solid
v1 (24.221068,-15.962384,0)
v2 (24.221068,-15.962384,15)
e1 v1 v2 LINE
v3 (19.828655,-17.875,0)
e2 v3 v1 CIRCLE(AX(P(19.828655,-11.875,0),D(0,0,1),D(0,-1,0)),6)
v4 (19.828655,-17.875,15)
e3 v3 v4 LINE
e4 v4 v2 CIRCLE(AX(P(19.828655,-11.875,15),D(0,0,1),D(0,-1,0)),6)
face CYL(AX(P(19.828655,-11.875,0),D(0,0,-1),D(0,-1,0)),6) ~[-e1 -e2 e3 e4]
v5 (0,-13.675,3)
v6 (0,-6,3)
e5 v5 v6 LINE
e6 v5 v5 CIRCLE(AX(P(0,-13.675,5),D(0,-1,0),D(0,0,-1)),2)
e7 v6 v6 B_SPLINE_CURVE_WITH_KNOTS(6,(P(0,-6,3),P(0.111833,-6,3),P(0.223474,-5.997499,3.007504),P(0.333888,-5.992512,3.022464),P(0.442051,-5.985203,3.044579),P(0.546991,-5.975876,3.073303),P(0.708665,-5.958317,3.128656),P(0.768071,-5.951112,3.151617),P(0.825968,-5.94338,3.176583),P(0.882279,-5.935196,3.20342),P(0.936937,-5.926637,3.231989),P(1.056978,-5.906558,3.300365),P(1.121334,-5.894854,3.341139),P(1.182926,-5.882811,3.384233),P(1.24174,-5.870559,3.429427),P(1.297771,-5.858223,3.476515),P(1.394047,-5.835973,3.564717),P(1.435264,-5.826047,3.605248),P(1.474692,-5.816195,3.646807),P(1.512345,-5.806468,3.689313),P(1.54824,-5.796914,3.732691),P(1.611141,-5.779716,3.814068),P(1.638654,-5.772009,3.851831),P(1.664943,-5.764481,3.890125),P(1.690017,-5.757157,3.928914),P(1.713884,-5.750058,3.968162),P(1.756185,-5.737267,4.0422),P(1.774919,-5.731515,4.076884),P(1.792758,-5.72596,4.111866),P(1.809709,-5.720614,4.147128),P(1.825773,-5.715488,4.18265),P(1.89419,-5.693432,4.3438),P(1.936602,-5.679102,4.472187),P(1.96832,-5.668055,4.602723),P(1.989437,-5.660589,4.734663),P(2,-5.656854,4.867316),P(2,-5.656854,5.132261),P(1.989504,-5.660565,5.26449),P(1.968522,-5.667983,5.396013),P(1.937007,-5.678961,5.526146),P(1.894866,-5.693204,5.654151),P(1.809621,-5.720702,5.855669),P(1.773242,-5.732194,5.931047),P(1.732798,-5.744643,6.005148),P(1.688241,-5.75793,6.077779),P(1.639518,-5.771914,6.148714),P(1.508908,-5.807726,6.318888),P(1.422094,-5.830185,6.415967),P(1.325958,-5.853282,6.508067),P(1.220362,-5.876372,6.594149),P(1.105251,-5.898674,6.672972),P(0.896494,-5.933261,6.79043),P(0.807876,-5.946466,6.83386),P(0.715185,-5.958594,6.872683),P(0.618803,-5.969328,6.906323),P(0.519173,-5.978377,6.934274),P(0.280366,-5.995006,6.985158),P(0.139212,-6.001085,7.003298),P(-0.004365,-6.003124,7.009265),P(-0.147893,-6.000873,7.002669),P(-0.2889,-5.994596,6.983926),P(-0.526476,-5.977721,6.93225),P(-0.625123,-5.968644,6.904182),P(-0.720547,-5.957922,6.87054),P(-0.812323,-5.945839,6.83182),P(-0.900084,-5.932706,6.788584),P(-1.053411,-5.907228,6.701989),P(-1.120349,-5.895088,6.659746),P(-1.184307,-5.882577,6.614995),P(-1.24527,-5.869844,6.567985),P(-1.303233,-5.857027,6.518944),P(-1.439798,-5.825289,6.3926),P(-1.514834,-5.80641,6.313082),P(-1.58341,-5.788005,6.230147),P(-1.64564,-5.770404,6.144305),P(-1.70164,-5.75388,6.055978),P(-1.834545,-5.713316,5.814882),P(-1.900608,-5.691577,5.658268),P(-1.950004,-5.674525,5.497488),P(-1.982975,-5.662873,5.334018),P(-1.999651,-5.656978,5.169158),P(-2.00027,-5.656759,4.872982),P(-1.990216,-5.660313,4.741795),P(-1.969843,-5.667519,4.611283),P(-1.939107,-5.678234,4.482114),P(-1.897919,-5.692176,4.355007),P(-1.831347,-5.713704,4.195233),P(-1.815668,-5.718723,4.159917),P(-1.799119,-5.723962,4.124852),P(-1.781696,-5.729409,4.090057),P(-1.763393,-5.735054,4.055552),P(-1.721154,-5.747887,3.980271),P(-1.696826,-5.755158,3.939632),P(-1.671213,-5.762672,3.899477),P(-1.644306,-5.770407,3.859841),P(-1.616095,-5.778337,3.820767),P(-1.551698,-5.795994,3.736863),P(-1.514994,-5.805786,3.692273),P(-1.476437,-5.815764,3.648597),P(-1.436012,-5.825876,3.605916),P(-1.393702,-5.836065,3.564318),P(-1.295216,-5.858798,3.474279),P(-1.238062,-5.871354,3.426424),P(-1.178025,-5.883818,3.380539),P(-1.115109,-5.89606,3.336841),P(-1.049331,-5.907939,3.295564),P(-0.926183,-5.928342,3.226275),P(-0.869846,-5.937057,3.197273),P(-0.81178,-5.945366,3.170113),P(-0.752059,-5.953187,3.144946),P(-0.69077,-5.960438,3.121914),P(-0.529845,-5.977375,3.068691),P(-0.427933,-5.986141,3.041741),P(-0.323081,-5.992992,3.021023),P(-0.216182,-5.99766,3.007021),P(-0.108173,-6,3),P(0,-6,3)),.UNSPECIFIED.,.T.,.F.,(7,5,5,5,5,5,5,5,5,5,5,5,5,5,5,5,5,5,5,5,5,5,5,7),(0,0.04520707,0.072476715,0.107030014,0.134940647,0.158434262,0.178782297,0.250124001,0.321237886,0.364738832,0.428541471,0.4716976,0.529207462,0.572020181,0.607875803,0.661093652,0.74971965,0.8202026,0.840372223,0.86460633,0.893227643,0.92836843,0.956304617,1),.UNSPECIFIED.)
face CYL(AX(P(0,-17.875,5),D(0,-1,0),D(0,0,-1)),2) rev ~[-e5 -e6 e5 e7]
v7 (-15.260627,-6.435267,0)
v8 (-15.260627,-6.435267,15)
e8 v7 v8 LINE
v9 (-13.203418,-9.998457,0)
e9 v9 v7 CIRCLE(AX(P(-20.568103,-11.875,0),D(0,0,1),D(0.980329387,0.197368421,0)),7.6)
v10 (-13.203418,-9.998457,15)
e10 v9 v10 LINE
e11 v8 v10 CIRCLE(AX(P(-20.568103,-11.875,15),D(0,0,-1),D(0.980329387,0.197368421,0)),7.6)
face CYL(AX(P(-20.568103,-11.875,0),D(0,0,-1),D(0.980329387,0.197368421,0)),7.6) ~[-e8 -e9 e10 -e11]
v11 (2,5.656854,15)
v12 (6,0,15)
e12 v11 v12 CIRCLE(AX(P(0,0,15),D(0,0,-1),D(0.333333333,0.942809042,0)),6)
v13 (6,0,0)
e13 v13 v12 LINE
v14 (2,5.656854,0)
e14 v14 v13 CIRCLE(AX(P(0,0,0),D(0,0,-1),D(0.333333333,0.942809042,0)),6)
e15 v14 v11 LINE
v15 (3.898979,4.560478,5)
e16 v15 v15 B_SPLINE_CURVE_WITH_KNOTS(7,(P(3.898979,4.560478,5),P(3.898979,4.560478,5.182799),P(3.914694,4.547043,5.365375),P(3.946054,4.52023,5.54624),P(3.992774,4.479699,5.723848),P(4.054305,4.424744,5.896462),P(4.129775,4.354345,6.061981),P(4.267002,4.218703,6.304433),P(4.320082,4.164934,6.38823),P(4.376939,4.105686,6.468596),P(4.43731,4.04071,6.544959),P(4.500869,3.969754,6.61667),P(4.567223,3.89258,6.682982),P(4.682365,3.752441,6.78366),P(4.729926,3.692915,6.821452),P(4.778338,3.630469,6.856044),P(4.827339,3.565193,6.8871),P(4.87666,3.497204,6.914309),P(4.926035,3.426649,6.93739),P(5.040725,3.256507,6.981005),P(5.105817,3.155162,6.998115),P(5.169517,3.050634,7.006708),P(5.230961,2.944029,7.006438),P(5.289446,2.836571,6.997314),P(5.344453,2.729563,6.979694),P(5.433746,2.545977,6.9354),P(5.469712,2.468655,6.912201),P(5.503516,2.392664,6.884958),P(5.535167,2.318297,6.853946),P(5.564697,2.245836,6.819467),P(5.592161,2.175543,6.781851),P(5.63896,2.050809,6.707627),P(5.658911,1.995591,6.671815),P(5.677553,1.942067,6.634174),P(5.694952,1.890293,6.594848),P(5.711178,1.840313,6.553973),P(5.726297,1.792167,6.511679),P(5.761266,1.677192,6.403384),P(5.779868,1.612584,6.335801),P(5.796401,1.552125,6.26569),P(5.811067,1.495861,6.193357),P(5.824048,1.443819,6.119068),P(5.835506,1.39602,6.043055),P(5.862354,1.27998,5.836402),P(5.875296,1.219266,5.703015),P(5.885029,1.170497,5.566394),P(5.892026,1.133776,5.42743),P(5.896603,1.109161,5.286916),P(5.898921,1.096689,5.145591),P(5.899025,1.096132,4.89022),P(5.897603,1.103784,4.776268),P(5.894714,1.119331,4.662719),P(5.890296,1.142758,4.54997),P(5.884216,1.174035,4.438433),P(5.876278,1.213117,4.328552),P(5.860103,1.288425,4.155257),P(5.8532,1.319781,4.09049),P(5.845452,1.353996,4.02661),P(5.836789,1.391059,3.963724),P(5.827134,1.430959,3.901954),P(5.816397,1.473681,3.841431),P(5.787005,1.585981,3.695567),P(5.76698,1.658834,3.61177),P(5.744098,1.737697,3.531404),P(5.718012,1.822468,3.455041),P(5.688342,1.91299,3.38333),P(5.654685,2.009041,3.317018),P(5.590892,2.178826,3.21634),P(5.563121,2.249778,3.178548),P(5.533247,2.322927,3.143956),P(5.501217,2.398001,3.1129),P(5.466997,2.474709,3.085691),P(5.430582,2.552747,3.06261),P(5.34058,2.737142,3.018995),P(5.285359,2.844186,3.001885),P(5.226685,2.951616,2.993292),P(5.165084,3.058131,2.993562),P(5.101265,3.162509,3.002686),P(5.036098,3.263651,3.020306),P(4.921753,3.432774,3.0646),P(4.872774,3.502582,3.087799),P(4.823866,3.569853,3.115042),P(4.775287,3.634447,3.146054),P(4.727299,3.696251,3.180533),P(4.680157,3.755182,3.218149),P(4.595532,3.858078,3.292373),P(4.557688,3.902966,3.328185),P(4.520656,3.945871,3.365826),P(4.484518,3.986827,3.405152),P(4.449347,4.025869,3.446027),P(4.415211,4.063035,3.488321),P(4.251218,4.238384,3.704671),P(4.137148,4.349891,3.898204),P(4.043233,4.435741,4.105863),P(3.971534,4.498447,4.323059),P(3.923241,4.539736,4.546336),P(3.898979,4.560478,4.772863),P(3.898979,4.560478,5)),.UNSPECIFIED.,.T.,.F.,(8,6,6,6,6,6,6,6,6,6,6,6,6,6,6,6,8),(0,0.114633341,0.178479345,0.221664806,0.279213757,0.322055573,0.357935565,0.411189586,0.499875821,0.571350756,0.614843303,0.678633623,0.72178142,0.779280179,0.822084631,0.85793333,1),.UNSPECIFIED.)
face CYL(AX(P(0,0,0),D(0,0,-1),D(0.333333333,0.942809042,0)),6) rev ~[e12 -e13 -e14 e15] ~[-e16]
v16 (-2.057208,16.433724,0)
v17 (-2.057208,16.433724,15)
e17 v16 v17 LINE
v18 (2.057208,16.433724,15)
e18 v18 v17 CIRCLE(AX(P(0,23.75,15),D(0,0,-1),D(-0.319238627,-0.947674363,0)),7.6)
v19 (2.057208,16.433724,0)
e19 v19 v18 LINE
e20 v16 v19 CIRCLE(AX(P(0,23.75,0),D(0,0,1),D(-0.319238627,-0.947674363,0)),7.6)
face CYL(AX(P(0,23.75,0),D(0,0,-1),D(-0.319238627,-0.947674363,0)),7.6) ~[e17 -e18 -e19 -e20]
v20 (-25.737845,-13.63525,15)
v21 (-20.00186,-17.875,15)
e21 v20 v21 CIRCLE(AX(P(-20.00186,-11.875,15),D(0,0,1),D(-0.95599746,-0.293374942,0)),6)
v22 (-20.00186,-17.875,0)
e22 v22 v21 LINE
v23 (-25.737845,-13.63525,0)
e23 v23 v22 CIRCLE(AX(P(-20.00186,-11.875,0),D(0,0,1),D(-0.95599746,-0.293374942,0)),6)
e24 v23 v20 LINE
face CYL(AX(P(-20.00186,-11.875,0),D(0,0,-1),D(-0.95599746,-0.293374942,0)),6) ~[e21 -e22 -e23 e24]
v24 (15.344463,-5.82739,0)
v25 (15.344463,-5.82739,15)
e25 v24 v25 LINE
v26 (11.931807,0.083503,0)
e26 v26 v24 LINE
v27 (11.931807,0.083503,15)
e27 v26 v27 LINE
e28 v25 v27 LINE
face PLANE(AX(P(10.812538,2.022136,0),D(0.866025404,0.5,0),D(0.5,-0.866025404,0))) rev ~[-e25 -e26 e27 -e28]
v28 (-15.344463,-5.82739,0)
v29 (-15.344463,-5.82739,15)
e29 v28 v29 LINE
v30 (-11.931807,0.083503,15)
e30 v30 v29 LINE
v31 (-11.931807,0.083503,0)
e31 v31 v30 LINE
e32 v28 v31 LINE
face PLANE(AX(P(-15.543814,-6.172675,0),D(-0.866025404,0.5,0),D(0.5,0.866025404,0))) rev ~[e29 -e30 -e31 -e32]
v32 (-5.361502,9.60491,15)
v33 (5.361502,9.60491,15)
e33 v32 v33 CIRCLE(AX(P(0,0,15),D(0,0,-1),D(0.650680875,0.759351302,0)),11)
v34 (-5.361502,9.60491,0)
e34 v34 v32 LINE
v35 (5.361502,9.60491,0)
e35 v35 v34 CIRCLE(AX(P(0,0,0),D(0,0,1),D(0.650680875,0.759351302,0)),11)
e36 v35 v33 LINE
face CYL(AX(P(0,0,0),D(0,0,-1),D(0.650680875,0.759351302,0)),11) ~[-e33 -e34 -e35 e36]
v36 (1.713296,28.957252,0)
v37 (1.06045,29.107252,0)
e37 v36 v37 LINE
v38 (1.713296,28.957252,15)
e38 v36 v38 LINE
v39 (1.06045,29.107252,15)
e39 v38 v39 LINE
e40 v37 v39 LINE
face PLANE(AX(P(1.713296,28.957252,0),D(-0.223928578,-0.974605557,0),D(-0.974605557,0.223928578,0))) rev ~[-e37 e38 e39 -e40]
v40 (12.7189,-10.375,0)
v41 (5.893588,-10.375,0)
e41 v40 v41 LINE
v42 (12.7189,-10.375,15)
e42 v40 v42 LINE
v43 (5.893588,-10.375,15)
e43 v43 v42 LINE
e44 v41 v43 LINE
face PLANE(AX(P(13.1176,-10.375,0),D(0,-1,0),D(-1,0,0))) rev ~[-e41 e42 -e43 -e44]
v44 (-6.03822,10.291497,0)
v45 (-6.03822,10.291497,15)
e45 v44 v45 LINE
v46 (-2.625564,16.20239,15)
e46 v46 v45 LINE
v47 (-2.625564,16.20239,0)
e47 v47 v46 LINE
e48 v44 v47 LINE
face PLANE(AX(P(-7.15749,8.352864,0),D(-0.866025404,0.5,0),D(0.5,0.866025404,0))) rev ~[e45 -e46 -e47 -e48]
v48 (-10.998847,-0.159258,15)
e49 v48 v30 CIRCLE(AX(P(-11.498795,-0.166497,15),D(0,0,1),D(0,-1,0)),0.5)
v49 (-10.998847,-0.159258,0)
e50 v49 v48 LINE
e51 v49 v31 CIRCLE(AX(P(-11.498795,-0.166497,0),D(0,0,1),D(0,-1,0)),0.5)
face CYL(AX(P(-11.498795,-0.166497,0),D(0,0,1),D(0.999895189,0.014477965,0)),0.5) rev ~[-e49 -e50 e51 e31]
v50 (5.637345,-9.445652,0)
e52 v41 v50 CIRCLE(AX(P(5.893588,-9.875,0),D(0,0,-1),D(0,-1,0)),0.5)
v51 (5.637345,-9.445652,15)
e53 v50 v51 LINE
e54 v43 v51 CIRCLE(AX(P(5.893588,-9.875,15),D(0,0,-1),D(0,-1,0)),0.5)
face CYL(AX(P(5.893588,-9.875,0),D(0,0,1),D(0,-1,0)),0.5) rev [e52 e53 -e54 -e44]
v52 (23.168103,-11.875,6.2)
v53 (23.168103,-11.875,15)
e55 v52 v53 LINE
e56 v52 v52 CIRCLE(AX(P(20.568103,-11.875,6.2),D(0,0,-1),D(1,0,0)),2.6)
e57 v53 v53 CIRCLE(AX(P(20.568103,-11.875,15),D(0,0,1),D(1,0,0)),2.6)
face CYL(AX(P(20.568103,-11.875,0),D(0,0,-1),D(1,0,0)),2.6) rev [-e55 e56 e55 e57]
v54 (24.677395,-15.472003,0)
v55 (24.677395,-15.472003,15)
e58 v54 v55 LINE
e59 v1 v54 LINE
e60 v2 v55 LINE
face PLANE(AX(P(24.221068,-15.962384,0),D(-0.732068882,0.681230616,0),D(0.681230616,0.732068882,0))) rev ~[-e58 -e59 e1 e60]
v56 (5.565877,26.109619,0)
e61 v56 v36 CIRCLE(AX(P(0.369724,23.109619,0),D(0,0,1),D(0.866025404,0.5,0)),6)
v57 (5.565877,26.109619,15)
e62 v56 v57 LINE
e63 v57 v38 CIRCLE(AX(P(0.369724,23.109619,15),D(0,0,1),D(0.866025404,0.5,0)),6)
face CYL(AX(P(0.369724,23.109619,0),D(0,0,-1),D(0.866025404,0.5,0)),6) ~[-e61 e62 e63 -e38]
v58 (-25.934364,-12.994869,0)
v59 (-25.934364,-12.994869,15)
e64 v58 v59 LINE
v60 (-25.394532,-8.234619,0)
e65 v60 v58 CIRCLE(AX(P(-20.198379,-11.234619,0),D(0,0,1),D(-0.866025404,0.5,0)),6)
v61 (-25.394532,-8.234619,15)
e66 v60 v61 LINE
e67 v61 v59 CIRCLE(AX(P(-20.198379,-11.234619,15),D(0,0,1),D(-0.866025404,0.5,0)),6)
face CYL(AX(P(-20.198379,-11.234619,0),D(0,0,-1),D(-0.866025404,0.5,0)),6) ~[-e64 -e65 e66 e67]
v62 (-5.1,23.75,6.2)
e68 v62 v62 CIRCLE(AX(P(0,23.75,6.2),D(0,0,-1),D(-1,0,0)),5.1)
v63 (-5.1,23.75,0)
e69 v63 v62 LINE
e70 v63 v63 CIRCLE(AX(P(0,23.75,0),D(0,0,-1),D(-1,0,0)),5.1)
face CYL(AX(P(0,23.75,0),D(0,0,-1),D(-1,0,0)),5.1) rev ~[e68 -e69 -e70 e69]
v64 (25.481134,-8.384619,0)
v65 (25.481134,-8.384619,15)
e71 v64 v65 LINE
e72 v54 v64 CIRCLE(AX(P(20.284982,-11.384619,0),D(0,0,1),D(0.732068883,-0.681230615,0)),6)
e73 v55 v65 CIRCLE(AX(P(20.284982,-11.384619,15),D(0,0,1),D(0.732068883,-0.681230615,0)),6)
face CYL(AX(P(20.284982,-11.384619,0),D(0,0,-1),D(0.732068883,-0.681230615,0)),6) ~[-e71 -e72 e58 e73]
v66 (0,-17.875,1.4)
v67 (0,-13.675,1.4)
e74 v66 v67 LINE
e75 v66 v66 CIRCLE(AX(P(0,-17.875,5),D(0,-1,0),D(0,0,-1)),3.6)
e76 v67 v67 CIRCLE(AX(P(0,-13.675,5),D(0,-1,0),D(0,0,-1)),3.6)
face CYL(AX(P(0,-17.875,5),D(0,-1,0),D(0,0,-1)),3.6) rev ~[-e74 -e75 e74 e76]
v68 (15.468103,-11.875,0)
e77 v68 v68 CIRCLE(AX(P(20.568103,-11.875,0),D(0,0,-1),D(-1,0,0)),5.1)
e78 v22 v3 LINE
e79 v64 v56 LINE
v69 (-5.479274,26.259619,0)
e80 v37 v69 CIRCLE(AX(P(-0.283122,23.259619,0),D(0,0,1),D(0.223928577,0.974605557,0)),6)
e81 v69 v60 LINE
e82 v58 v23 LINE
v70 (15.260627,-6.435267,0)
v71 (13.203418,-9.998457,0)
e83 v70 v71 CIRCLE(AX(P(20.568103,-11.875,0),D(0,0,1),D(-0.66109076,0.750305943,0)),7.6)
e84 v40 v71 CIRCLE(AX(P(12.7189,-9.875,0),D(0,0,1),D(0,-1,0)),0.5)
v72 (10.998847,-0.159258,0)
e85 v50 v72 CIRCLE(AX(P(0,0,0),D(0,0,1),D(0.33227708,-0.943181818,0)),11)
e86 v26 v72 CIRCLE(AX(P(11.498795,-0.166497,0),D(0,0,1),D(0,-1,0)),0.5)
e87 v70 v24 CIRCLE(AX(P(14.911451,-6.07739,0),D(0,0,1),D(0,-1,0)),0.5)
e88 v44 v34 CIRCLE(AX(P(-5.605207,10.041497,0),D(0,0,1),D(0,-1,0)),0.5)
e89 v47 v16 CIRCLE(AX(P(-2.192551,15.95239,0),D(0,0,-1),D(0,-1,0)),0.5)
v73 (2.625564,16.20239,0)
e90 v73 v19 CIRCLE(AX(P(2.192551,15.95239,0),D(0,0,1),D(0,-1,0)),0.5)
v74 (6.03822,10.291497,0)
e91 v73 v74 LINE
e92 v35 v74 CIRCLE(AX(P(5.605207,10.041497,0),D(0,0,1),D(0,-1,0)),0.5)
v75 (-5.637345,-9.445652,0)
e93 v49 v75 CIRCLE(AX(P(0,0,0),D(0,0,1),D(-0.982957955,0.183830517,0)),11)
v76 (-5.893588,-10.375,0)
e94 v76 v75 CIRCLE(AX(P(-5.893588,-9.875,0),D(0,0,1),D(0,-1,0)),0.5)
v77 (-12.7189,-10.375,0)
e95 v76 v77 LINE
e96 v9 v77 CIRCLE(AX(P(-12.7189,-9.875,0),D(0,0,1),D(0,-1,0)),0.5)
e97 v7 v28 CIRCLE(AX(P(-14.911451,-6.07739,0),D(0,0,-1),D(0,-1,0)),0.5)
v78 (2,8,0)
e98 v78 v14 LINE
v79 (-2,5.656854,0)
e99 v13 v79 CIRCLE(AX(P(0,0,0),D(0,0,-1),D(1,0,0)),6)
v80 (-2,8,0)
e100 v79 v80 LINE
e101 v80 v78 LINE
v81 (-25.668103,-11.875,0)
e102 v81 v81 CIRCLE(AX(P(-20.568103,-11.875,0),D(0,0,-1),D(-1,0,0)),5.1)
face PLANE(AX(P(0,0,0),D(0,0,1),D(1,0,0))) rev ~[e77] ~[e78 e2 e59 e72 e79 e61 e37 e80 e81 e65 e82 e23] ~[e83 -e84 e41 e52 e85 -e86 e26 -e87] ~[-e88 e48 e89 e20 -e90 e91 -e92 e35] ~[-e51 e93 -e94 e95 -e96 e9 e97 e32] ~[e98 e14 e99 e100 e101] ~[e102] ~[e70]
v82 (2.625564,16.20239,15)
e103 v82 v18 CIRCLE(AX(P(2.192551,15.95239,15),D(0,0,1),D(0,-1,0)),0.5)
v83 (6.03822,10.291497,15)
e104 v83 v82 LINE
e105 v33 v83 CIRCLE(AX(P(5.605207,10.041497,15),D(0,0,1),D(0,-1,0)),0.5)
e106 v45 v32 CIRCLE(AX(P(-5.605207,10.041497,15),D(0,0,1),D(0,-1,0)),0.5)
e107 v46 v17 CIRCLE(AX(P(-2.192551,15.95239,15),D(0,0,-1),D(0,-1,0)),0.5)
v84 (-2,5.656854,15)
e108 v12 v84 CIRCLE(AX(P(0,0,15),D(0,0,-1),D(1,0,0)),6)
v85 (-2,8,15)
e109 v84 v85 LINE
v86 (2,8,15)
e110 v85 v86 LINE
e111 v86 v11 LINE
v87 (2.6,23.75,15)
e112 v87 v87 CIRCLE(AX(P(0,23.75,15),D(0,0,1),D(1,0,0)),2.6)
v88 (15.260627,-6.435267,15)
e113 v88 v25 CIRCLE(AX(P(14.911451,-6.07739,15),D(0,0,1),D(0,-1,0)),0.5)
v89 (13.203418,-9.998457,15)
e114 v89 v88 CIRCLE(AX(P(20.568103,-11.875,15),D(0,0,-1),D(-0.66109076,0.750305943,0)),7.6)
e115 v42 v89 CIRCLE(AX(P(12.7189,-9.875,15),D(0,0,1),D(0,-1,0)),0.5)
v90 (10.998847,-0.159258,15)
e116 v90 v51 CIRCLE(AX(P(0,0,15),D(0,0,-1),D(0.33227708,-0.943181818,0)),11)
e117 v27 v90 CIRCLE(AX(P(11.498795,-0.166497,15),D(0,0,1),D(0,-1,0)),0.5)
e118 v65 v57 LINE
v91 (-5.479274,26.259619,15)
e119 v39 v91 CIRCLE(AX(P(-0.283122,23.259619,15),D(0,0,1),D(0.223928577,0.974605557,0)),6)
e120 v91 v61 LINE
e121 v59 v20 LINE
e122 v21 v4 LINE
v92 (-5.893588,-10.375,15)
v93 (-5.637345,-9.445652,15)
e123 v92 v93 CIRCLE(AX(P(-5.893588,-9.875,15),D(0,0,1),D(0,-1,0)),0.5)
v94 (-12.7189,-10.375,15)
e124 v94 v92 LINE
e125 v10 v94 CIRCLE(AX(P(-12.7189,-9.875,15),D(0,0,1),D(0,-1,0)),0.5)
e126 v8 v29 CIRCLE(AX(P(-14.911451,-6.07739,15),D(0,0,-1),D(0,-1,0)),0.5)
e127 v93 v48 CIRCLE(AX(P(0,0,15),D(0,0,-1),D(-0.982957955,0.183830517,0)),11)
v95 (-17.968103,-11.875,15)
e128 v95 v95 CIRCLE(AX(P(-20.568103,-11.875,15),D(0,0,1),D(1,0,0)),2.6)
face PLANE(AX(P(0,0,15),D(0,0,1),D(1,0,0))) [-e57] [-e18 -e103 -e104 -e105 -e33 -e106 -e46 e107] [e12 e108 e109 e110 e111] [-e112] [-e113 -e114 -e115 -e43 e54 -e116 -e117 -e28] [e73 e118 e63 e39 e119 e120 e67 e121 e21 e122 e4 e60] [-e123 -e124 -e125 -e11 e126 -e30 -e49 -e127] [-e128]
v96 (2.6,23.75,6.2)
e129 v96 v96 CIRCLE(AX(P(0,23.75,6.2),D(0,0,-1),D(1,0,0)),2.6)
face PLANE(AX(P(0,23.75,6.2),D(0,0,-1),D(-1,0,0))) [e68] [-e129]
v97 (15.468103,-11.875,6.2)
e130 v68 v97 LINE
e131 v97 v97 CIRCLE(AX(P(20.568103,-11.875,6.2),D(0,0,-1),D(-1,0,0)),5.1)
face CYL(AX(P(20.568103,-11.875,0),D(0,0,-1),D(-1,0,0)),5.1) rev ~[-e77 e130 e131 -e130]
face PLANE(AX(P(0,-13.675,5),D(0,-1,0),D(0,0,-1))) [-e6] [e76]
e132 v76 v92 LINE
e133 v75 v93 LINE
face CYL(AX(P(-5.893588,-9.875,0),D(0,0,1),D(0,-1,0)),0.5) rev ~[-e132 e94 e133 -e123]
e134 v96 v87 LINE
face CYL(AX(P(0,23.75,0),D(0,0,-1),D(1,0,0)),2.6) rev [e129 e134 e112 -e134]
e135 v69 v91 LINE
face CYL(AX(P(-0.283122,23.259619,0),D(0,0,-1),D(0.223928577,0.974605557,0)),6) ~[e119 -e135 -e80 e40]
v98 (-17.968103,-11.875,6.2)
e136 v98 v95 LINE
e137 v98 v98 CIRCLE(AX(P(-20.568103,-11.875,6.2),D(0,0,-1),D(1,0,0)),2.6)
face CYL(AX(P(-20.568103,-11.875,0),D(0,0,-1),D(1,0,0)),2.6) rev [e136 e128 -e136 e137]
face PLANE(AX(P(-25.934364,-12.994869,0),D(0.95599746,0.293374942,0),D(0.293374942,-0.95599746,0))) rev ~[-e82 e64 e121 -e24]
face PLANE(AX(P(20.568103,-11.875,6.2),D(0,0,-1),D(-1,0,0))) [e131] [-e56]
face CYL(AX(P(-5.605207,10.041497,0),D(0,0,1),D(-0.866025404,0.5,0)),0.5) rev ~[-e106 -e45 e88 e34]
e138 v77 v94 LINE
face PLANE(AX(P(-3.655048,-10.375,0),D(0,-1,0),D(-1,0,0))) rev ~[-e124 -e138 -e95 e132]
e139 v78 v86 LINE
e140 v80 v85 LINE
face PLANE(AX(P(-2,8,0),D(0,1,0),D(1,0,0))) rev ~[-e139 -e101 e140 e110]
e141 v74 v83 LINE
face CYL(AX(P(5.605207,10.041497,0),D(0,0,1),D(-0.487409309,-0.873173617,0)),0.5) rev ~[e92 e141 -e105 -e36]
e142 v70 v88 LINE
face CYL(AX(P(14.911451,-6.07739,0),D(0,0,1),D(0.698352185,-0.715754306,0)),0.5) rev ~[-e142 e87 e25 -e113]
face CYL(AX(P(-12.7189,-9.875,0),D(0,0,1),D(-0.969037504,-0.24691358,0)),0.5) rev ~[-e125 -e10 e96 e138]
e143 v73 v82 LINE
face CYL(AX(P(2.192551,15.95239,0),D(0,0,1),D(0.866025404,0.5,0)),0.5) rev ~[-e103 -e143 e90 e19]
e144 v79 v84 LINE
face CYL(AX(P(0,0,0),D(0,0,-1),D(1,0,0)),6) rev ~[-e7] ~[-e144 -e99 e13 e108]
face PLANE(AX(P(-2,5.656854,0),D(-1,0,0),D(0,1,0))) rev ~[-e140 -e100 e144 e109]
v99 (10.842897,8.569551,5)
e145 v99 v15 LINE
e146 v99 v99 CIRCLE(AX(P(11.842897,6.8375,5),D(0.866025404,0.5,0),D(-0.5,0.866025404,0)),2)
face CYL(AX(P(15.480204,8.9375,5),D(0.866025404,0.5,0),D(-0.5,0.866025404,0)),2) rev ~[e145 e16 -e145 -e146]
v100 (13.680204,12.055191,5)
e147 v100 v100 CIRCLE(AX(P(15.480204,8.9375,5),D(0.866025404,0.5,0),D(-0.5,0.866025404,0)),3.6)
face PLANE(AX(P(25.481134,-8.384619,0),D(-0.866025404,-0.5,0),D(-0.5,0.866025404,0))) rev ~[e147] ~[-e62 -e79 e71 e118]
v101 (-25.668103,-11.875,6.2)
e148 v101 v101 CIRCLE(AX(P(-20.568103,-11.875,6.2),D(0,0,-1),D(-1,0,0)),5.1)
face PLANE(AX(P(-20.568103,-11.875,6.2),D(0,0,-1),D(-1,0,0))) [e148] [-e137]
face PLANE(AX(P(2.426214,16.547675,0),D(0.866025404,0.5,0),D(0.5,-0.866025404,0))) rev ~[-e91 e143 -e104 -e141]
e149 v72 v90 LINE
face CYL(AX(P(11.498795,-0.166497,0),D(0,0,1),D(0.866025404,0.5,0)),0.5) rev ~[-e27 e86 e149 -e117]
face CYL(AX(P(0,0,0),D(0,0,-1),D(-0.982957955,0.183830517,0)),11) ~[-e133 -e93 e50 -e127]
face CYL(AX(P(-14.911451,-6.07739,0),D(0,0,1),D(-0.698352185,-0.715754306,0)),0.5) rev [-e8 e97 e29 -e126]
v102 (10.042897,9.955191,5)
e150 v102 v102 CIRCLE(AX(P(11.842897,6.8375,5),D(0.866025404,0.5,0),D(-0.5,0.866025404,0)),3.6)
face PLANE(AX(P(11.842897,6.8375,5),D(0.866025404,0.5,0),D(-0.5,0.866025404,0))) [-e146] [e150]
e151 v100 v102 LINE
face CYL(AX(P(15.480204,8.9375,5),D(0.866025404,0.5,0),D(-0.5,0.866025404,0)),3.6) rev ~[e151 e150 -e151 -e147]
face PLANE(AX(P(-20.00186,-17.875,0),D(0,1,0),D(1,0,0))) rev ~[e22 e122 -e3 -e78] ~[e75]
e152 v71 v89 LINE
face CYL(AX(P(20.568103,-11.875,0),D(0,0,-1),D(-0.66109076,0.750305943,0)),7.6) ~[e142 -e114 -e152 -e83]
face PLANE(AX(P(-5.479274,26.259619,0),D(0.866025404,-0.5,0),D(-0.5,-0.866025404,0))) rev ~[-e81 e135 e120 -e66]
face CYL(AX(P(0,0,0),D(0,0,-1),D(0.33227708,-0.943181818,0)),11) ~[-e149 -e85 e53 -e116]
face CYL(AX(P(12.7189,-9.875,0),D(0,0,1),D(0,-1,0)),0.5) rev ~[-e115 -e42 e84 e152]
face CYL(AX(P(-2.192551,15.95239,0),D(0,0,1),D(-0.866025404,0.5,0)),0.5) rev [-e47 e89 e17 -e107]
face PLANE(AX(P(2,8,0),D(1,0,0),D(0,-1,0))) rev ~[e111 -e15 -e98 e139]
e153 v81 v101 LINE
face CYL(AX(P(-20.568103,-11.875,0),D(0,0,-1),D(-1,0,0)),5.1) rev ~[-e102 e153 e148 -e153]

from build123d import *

# Parameters (mm, degrees)
SKETCH_1_R               = 2.6
EXTRUDE_1_DEPTH          = 15
CUT_EXTRUDE_1_REACH      = 58.014
CUT_EXTRUDE_1_END_RADIUS = 6
SKETCH_3_R               = 2
SKETCH_4_R               = 3.6
CUT_EXTRUDE_2_DEPTH      = 4.2
SKETCH_6_R               = 5.1
CUT_EXTRUDE_4_DEPTH      = 6.2
CUT_EXTRUDE_5_REACH      = 53.779
CUT_EXTRUDE_5_END_RADIUS = 6
SKETCH_7_R               = 2
SKETCH_8_R               = 3.6
CUT_EXTRUDE_6_DEPTH      = 4.2
CUT_EXTRUDE_7_DEPTH      = 43.095434039
FILLET_1_R               = 0.5


with BuildPart() as part:
    # ｽｹｯﾁ1 → ﾎﾞｽ - 押し出し1 (new body)
    with BuildSketch(Plane.XY):
        with BuildLine():
            ThreePointArc((1.060449829, 29.107252287), (-2.678502383, 28.760723475), (-5.479274058, 26.259618943))
            Line((-5.479274058, 26.259618943), (-25.394531587, -8.234618943))
            ThreePointArc((-25.394531587, -8.234618943), (-26.160165812, -10.558527256), (-25.934363924, -12.994868595))
            Line((-25.934363924, -12.994868595), (-25.737844829, -13.635249652))
            ThreePointArc((-25.737844829, -13.635249652), (-23.56826597, -16.700012845), (-20.00186007, -17.875))
            Line((-20.00186007, -17.875), (19.828654989, -17.875))
            ThreePointArc((19.828654989, -17.875), (22.224035736, -17.376104532), (24.221068284, -15.962383691))
            Line((24.221068284, -15.962383691), (24.677395, -15.472002635))
            ThreePointArc((24.677395, -15.472002635), (26.246768352, -12.06071063), (25.481134127, -8.384618943))
            Line((25.481134127, -8.384618943), (5.565876598, 26.109618943))
            ThreePointArc((5.565876598, 26.109618943), (3.936130075, 27.934631788), (1.713295639, 28.957252287))
            Line((1.713295639, 28.957252287), (1.060449829, 29.107252287))
        make_face()
        with Locations((-20.56810334, -11.875)):
            Circle(SKETCH_1_R, mode=Mode.SUBTRACT)
        with BuildLine():
            ThreePointArc((6, 0), (-3.464101615, -4.898979486), (-2, 5.656854249))
            Line((-2, 5.656854249), (-2, 8))
            Line((-2, 8), (2, 8))
            Line((2, 8), (2, 5.656854249))
            ThreePointArc((2, 5.656854249), (4.898979486, 3.464101615), (6, 0))
        make_face(mode=Mode.SUBTRACT)
        with Locations((20.56810334, -11.875)):
            Circle(SKETCH_1_R, mode=Mode.SUBTRACT)
        with Locations((0, 23.75)):
            Circle(SKETCH_1_R, mode=Mode.SUBTRACT)
    extrude(amount=EXTRUDE_1_DEPTH)

    # ｶｯﾄ - 押し出し1: up to this cylinder (the profile starts outside it)
    cut_extrude_1_end = Plane(origin=(0, 0, 5), z_dir=(0, 0, -1)) * Cylinder(CUT_EXTRUDE_1_END_RADIUS, 129.028, mode=Mode.PRIVATE)
    # ｽｹｯﾁ3 → ｶｯﾄ - 押し出し1 (cut, up to the surface)
    with BuildSketch(Plane.XZ.offset(17.875), mode=Mode.PRIVATE) as cut_extrude_1_sk1:
        with Locations(Location((0, 5, 0), (0, 0, 270))):
            Circle(SKETCH_3_R)
    cut_extrude_1_tool1 = extrude(cut_extrude_1_sk1.sketch, amount=-CUT_EXTRUDE_1_REACH, mode=Mode.PRIVATE) - cut_extrude_1_end
    add(cut_extrude_1_tool1.solids().sort_by_distance((0, -17.875, 5))[0], mode=Mode.SUBTRACT)

    # ｽｹｯﾁ4 → ｶｯﾄ - 押し出し2 (cut)
    with BuildSketch(Plane.XZ.offset(17.875)):
        with Locations(Location((0, 5, 0), (0, 0, 270))):
            Circle(SKETCH_4_R)
    extrude(amount=-CUT_EXTRUDE_2_DEPTH, mode=Mode.SUBTRACT)

    # ｽｹｯﾁ6 → ｶｯﾄ - 押し出し4 (cut)
    with BuildSketch(Plane(origin=(0, 0, 0), x_dir=(-1, 0, 0), z_dir=(0, 0, -1))):
        with Locations((0, 23.75)):
            Circle(SKETCH_6_R)
        with Locations((-20.56810334, -11.875)):
            Circle(SKETCH_6_R)
        with Locations((20.56810334, -11.875)):
            Circle(SKETCH_6_R)
    extrude(amount=-CUT_EXTRUDE_4_DEPTH, mode=Mode.SUBTRACT)

    # ｶｯﾄ - 押し出し5: up to this cylinder (the profile starts outside it)
    cut_extrude_5_end = Plane(origin=(0, 0, 5), z_dir=(0, 0, -1)) * Cylinder(CUT_EXTRUDE_5_END_RADIUS, 120.558, mode=Mode.PRIVATE)
    # ｽｹｯﾁ7 → ｶｯﾄ - 押し出し5 (cut, up to the surface)
    with BuildSketch(Plane(origin=(15.480204093, 8.9375, 0), x_dir=(0, 0, -1), z_dir=(0.8660254037844386, 0.5000000000000001, 0)), mode=Mode.PRIVATE) as cut_extrude_5_sk1:
        with Locations(Location((-5, 0, 0), (0, 0, 90))):
            Circle(SKETCH_7_R)
    cut_extrude_5_tool1 = extrude(cut_extrude_5_sk1.sketch, amount=-CUT_EXTRUDE_5_REACH, mode=Mode.PRIVATE) - cut_extrude_5_end
    add(cut_extrude_5_tool1.solids().sort_by_distance((15.480204, 8.9375, 5))[0], mode=Mode.SUBTRACT)

    # ｽｹｯﾁ8 → ｶｯﾄ - 押し出し6 (cut)
    with BuildSketch(Plane(origin=(15.480204093, 8.9375, 0), x_dir=(0, 0, -1), z_dir=(0.8660254037844386, 0.5000000000000001, 0))):
        with Locations(Location((-5, 0, 0), (0, 0, 90))):
            Circle(SKETCH_8_R)
    extrude(amount=-CUT_EXTRUDE_6_DEPTH, mode=Mode.SUBTRACT)

    # ｽｹｯﾁ9 → ｶｯﾄ - 押し出し7 (cut, through all)
    with BuildSketch(Plane(origin=(0, 0, 0), x_dir=(-1, 0, 0), z_dir=(0, 0, -1))):
        with BuildLine():
            ThreePointArc((2.426213564, 16.547674838), (0, 16.15), (-2.426213564, 16.547674838))
            Line((-2.426213564, 16.547674838), (-7.157489625, 8.352864316))
            ThreePointArc((-7.157489625, 8.352864316), (0, 11), (7.157489625, 8.352864316))
            Line((7.157489625, 8.352864316), (2.426213564, 16.547674838))
        make_face()
        with BuildLine():
            ThreePointArc((-3.655047879, -10.375), (-9.526279442, -5.5), (-10.812537504, 2.022135684))
            Line((-10.812537504, 2.022135684), (-15.543813565, -6.172674838))
            ThreePointArc((-15.543813565, -6.172674838), (-13.986310271, -8.075), (-13.117600001, -10.375))
            Line((-13.117600001, -10.375), (-3.655047879, -10.375))
        make_face()
        with BuildLine():
            Line((15.543813565, -6.172674838), (10.812537504, 2.022135684))
            ThreePointArc((10.812537504, 2.022135684), (9.526279442, -5.5), (3.655047879, -10.375))
            Line((3.655047879, -10.375), (13.117600001, -10.375))
            ThreePointArc((13.117600001, -10.375), (13.986310271, -8.075), (15.543813565, -6.172674838))
        make_face()
    extrude(amount=-CUT_EXTRUDE_7_DEPTH, mode=Mode.SUBTRACT)

    # ﾌｨﾚｯﾄ1
    fillet_1_edges = [part.edges().sort_by_distance(p)[0] for p in [
        (13.117600001, -10.375, 7.5),
        (15.543813565, -6.172674838, 7.5),
        (10.812537504, 2.022135684, 7.5),
        (3.655047879, -10.375, 7.5),
        (2.426213564, 16.547674838, 7.5),
        (-2.426213564, 16.547674838, 7.5),
        (-7.157489625, 8.352864316, 7.5),
        (7.157489625, 8.352864316, 7.5),
        (-15.543813565, -6.172674838, 7.5),
        (-13.117600001, -10.375, 7.5),
        (-3.655047879, -10.375, 7.5),
        (-10.812537504, 2.022135684, 7.5),
    ]]
    fillet(fillet_1_edges, radius=FILLET_1_R)


solid = part.part
